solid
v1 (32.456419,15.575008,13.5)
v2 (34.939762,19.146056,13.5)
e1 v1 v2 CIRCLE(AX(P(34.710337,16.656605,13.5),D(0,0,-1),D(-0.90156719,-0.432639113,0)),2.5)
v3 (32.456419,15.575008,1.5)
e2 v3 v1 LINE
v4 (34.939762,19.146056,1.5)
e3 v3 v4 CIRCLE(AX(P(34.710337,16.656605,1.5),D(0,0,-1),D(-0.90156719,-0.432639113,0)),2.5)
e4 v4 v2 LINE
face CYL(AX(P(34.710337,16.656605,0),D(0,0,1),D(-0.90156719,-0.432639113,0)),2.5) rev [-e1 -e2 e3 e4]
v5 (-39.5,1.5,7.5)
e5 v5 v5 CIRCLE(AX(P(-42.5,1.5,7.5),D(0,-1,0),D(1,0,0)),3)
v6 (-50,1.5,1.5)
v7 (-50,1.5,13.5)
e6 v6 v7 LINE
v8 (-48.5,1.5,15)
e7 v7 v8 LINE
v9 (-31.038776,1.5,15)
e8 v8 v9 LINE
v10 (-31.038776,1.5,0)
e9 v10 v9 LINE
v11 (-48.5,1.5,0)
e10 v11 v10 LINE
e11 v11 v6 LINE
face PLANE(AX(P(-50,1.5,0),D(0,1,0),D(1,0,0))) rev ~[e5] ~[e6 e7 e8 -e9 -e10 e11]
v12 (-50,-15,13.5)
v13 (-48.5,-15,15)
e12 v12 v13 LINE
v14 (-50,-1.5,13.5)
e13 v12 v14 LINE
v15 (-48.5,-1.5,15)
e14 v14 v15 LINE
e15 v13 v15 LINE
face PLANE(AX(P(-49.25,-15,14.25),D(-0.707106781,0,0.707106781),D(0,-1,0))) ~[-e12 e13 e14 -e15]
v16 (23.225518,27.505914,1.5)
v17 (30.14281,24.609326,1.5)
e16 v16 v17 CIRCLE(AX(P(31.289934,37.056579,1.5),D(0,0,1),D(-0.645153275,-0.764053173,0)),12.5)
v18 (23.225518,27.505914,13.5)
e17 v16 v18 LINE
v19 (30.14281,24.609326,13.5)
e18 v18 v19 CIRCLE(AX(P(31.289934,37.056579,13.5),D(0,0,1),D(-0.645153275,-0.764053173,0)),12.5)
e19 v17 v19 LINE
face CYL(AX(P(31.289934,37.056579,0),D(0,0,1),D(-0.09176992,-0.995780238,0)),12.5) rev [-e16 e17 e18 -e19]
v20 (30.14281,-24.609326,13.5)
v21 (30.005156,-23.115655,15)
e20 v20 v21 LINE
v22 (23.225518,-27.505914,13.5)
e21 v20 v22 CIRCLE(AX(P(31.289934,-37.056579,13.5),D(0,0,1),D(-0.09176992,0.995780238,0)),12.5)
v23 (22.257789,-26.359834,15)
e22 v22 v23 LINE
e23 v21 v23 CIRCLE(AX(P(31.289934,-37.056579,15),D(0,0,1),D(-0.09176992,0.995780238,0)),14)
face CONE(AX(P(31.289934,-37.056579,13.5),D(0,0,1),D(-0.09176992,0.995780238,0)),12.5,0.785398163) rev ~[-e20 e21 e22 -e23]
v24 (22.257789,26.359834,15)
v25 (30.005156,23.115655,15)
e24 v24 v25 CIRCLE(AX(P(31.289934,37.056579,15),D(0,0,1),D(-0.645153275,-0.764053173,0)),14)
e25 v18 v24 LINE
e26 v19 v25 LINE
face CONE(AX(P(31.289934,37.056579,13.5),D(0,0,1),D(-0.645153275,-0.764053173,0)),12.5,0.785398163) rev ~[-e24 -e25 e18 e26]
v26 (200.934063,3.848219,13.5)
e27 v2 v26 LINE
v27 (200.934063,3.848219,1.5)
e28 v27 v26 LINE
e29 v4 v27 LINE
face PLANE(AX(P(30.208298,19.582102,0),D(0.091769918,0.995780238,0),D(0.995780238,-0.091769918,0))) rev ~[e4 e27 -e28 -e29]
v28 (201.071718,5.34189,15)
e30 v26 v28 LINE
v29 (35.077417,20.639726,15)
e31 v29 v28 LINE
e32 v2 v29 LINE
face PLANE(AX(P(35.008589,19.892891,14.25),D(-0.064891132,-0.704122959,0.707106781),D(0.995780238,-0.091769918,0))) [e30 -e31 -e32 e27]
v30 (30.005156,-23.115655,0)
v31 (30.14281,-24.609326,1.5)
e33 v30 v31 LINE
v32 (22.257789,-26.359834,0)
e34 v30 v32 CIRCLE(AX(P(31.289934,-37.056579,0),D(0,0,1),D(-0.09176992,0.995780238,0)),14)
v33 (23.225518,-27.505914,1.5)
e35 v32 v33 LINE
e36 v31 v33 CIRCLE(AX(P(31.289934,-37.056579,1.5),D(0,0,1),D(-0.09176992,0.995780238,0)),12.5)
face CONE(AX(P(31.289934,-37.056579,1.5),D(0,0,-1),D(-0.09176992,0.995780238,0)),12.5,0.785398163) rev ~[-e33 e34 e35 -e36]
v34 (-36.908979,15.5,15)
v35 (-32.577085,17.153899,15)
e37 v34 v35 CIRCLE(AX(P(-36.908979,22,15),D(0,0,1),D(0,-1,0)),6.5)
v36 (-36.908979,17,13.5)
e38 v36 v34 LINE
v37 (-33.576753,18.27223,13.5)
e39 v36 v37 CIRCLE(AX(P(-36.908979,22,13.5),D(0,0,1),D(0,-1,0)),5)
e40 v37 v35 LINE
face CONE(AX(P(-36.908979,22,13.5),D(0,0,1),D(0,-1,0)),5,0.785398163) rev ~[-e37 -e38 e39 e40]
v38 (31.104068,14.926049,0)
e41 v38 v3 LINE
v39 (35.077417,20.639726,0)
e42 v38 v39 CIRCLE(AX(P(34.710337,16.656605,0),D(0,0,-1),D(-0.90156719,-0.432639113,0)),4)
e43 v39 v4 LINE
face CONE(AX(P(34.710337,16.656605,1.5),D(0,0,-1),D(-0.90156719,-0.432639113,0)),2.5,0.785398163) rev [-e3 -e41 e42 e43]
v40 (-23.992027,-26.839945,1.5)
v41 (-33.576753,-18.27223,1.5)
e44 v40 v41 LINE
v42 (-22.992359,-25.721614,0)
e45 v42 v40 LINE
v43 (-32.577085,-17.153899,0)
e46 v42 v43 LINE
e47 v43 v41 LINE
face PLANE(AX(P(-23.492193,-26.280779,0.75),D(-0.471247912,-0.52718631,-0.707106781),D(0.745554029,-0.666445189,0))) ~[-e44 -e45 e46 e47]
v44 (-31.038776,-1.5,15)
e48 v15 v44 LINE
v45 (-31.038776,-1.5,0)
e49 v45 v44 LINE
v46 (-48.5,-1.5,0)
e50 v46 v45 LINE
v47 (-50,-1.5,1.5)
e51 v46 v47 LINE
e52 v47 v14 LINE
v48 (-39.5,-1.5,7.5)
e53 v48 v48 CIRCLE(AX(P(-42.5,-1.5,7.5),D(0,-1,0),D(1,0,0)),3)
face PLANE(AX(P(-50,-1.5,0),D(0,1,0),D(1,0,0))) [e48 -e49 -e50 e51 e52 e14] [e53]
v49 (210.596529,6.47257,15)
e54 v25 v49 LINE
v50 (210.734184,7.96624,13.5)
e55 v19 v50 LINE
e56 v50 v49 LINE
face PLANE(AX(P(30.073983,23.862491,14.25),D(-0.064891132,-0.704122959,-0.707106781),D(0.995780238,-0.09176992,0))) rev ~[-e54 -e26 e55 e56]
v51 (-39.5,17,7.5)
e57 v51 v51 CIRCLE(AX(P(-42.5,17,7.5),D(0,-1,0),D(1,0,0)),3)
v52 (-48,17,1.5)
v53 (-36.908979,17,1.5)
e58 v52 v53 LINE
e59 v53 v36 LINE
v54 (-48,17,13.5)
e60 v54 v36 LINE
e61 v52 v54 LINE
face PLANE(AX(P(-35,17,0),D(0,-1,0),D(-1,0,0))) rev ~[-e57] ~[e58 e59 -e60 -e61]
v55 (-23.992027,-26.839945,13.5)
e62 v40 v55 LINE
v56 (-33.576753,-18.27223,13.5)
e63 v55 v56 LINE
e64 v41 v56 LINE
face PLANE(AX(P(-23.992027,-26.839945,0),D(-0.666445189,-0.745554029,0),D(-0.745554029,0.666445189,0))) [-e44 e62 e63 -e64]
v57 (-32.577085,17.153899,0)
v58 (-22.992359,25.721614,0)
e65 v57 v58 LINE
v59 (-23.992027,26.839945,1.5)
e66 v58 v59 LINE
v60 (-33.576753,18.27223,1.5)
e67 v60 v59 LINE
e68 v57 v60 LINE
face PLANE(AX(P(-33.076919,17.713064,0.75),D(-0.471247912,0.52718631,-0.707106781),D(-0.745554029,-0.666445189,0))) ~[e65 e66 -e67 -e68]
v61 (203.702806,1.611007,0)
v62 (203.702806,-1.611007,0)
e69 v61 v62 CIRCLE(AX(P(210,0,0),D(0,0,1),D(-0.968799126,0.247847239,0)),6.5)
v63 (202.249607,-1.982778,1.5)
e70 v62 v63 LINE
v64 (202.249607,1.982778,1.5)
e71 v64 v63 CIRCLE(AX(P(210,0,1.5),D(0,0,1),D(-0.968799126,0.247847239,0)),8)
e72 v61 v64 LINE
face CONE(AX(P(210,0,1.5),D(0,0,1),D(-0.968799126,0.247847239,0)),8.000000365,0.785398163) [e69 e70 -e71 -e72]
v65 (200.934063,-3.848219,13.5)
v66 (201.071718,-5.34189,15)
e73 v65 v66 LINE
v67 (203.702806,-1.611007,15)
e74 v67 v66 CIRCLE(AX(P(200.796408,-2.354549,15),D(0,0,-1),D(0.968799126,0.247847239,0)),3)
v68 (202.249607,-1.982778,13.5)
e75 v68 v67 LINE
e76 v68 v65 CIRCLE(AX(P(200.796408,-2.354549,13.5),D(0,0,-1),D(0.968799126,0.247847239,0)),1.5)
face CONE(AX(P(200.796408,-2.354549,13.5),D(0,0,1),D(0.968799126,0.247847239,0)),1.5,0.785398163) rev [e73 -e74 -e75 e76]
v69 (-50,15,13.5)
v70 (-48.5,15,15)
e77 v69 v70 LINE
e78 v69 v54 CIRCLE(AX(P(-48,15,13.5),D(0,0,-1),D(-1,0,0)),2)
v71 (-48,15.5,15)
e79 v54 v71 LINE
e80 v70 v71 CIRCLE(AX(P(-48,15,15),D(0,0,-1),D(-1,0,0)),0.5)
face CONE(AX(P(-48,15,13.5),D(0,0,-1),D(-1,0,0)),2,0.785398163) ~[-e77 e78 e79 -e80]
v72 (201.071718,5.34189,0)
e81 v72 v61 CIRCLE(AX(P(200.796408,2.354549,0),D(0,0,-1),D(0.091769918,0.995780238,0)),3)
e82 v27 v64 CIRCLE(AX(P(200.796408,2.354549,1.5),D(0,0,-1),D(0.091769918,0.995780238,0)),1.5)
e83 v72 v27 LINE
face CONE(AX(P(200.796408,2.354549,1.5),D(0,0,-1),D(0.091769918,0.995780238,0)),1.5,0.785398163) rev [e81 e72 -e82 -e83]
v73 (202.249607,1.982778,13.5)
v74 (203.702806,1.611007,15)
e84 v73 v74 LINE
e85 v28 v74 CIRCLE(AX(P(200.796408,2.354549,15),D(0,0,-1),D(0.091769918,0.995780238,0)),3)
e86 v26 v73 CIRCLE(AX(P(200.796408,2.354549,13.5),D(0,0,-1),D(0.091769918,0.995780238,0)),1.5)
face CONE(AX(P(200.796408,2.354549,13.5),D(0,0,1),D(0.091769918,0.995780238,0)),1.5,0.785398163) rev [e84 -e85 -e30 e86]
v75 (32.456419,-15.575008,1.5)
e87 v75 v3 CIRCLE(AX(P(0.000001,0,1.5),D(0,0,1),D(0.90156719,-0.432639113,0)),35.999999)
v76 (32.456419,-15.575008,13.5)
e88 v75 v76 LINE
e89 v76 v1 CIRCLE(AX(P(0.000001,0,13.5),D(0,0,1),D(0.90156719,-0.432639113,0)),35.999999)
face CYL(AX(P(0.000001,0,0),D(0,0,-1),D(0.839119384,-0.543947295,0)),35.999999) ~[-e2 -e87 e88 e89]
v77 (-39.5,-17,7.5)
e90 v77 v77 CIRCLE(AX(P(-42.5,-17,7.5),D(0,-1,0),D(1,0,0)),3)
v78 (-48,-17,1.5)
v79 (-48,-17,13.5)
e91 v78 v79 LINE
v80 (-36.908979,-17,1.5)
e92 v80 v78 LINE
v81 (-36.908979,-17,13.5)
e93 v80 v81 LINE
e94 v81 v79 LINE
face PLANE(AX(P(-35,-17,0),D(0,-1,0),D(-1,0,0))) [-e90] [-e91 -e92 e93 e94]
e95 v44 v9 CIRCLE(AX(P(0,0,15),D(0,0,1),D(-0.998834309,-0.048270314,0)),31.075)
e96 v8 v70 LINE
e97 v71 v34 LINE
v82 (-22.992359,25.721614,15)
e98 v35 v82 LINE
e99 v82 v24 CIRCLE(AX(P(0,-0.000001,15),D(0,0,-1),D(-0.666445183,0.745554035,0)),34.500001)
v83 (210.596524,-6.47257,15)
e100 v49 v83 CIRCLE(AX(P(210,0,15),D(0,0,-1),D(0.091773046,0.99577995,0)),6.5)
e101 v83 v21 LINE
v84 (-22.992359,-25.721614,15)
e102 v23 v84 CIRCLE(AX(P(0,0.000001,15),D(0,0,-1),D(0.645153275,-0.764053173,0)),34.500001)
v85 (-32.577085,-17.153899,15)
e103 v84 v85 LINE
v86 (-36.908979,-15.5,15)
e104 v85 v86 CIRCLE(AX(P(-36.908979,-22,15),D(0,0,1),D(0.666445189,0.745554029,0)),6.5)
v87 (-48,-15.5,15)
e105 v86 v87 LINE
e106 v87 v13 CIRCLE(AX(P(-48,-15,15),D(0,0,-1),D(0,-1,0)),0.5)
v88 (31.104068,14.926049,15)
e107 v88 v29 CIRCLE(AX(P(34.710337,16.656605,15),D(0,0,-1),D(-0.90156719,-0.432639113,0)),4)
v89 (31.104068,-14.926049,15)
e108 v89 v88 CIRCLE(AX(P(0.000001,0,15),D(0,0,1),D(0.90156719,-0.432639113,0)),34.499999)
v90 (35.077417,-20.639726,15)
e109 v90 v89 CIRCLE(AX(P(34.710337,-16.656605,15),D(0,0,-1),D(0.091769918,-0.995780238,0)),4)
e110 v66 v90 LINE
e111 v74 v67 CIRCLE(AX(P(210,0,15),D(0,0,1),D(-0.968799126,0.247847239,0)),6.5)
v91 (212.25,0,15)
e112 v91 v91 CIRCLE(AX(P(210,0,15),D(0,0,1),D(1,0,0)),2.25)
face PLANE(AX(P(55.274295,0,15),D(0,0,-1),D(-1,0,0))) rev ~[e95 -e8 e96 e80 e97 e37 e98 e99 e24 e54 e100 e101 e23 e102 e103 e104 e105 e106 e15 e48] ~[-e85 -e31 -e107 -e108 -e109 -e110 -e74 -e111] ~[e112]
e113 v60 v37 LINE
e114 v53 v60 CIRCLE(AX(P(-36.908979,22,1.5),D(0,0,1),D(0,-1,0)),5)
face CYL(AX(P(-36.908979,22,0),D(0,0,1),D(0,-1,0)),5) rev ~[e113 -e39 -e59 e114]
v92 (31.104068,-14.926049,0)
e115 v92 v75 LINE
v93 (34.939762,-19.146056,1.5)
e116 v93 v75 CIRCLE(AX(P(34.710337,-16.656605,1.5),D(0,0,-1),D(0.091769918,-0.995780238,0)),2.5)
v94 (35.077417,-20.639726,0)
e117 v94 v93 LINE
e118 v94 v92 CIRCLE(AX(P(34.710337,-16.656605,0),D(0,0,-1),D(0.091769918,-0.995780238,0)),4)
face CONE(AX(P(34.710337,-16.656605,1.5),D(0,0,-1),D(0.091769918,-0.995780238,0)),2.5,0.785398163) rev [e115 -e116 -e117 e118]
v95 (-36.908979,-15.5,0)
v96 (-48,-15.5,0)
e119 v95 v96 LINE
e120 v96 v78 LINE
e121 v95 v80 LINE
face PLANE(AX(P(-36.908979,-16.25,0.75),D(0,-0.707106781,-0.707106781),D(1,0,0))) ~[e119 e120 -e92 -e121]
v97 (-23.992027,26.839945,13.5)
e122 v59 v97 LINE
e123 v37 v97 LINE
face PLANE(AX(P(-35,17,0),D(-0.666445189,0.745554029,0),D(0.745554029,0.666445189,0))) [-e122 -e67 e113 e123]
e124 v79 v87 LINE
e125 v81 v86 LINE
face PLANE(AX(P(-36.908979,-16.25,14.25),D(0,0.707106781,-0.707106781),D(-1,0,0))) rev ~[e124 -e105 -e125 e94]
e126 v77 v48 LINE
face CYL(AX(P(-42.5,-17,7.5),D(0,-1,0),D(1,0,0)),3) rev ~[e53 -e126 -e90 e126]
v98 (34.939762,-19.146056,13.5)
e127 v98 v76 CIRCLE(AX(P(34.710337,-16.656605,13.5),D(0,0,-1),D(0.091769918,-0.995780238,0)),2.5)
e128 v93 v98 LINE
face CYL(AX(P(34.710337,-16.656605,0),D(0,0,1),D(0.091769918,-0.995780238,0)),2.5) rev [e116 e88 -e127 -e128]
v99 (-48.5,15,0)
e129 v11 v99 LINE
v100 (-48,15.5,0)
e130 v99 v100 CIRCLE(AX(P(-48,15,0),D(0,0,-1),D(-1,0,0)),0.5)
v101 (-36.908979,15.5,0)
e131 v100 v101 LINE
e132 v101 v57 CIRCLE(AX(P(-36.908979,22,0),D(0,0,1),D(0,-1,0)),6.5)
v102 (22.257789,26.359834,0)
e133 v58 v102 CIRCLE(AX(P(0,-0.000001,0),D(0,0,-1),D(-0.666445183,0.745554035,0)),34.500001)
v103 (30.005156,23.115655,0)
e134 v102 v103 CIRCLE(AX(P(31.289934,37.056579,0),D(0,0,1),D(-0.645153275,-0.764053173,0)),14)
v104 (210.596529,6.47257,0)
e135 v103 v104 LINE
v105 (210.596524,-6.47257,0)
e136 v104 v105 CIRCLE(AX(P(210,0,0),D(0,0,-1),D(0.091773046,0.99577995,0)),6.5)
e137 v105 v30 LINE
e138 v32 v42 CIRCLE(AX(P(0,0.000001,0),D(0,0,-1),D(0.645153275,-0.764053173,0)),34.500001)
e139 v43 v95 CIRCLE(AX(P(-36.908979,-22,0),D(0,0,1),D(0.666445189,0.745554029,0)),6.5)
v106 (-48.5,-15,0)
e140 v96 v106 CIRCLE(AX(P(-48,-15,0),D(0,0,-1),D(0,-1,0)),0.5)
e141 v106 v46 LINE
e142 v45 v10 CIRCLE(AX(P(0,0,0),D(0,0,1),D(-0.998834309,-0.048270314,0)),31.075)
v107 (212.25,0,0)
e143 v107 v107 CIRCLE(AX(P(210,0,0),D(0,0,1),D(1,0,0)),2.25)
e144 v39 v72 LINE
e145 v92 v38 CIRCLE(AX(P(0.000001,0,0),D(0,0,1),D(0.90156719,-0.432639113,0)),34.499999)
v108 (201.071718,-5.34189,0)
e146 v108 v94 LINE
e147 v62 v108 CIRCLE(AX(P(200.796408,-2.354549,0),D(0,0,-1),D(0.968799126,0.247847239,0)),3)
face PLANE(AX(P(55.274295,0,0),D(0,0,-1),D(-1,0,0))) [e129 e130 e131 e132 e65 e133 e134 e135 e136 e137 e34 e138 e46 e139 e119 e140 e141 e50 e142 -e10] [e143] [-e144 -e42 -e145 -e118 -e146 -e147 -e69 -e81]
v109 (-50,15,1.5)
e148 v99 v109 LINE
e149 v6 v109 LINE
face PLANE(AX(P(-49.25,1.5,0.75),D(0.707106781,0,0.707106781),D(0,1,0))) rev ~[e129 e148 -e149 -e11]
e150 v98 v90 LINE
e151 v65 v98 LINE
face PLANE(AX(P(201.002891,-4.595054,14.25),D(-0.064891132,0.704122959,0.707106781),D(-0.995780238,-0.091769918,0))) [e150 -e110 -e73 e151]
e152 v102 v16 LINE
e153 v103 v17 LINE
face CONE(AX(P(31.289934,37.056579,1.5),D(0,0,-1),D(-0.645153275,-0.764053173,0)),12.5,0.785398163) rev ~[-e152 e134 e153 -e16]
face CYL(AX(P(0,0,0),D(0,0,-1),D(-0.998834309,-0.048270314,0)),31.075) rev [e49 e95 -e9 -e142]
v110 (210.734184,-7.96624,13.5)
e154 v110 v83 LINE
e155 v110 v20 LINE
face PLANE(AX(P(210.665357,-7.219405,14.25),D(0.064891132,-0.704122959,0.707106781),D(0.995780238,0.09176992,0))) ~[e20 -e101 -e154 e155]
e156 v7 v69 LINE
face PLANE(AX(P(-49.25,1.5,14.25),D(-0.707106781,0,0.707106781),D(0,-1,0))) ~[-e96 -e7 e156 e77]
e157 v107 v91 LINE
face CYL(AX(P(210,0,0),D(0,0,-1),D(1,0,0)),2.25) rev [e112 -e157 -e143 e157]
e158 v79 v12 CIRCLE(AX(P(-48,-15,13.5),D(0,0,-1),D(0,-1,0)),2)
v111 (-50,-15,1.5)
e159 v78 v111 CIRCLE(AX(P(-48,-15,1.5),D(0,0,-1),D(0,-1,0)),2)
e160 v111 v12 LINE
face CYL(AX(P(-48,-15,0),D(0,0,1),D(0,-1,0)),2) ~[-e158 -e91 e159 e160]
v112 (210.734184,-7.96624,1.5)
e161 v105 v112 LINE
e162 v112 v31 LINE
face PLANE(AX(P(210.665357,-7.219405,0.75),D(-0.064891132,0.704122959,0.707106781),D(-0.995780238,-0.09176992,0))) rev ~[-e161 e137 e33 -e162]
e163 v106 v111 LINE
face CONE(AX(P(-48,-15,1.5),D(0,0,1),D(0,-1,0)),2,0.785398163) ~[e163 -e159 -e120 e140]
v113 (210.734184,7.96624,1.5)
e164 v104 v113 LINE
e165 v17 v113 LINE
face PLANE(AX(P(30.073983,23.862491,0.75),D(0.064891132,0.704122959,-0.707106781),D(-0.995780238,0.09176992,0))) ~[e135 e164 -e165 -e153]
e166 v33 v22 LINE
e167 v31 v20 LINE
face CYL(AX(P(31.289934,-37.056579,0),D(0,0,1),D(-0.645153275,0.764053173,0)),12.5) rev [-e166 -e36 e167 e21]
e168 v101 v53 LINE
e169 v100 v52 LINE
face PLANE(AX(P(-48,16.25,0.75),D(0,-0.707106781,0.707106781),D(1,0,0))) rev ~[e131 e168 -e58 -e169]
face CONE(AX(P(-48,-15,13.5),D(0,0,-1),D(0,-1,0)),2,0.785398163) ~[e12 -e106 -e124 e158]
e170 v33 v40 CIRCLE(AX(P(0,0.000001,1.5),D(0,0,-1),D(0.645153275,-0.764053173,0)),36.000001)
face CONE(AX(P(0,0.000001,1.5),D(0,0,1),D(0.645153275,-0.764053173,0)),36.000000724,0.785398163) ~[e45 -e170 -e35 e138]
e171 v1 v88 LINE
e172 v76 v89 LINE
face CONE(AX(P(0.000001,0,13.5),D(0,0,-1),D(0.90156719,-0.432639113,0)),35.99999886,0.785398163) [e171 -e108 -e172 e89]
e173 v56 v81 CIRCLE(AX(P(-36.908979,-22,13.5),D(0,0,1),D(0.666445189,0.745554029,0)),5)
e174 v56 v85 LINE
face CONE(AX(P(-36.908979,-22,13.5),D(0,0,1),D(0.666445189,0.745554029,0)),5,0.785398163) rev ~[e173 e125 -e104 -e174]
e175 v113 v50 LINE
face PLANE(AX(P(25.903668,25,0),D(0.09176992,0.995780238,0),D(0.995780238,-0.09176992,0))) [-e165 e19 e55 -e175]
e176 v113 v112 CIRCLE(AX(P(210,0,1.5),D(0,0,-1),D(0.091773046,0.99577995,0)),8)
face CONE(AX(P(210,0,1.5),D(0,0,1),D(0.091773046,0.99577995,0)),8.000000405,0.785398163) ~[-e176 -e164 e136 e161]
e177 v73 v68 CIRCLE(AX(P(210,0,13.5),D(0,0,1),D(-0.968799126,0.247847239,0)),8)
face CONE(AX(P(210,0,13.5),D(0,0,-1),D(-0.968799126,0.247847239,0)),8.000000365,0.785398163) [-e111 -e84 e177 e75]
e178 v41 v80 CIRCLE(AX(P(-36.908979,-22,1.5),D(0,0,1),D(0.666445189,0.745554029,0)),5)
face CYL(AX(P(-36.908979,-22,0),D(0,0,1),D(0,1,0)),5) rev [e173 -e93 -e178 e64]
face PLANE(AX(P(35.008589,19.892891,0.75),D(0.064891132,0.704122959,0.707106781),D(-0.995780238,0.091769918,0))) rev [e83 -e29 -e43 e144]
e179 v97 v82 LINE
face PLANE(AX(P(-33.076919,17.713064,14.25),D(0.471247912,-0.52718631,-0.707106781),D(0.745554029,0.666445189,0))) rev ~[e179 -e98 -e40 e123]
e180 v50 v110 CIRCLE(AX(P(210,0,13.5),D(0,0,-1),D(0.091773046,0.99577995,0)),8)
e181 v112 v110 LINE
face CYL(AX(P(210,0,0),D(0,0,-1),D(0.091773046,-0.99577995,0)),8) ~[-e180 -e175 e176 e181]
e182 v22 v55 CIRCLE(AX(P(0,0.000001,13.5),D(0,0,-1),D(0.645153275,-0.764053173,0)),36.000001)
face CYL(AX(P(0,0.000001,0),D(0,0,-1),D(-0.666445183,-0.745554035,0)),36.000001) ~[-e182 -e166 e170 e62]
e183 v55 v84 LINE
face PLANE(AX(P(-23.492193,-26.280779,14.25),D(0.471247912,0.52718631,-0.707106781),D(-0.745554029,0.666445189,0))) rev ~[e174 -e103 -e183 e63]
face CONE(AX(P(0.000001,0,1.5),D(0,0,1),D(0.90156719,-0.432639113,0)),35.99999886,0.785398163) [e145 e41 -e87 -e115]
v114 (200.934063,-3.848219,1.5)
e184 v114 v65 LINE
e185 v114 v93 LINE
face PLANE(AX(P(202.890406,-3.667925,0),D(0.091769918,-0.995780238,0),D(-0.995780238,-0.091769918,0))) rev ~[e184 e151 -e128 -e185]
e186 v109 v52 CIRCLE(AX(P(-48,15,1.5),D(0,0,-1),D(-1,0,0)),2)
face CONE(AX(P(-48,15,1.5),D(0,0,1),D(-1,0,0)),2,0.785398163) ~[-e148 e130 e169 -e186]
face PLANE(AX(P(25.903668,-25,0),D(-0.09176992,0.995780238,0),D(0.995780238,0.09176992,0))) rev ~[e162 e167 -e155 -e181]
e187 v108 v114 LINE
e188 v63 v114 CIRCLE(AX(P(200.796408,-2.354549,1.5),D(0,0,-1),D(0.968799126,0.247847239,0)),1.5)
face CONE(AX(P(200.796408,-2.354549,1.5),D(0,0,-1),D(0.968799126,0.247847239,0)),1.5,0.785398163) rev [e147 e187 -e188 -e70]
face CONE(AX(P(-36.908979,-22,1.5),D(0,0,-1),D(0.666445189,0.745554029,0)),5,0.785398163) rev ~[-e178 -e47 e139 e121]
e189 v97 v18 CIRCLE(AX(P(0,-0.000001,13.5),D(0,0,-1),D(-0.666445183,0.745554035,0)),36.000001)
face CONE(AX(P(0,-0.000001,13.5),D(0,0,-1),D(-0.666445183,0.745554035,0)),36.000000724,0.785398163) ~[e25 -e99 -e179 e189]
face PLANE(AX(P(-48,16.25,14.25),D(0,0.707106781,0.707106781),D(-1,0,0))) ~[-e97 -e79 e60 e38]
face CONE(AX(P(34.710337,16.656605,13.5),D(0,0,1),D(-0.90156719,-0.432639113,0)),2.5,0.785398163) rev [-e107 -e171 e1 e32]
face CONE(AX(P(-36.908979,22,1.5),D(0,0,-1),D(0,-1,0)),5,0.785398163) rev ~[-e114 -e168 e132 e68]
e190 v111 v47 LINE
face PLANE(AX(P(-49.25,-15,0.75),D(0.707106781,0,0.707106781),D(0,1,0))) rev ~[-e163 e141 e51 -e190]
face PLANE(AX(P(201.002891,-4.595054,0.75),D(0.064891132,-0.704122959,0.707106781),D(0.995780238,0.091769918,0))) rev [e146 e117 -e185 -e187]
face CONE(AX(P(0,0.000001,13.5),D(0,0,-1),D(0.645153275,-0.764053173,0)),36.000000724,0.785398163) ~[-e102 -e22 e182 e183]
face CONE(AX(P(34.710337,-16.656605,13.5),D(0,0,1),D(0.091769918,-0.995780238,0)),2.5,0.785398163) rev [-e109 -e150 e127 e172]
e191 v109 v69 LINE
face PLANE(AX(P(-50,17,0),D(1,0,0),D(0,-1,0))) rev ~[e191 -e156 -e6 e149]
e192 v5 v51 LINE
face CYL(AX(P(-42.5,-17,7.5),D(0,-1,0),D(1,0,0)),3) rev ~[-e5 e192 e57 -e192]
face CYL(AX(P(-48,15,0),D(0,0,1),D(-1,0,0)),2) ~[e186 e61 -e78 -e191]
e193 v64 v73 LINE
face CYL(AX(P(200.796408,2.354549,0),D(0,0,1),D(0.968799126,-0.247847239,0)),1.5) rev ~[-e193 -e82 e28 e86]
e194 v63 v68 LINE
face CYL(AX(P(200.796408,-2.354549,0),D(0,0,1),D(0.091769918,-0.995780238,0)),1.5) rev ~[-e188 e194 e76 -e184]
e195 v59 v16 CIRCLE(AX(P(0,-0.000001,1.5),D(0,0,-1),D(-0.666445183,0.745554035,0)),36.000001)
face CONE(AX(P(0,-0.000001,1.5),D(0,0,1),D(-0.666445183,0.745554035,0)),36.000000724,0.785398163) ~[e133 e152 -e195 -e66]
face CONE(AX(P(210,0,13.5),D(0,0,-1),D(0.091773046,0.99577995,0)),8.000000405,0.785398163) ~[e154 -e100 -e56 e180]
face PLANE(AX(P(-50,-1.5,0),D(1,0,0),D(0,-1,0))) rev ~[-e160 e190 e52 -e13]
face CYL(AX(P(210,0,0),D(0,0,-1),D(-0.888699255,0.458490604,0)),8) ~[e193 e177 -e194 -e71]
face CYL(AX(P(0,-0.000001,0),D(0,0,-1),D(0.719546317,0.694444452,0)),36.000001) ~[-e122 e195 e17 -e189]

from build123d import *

# Parameters (mm, degrees)
SKETCH_R     = 2.25
PAD_DEPTH    = 15
SKETCH001_R  = 3
HOLE_DEPTH   = 53.001
FILLET_R     = 5
FILLET001_R  = 2
FILLET002_R  = 12.5
FILLET003_R  = 2.5
FILLET004_R  = 1.5
CHAMFER_SIZE = 1.5


with BuildPart() as part:
    # Sketch → Pad (new body)
    with BuildSketch(Plane.XY):
        with BuildLine():
            ThreePointArc((-31.038776, -1.5), (31.075, 0), (-31.038776, 1.5))
            Line((-50, 1.5), (-31.038776, 1.5))
            Line((-50, 17), (-50, 1.5))
            Line((-35, 17), (-50, 17))
            Line((-35, 17), (-23.992027, 26.839945))
            ThreePointArc((25.903668, 25), (1.326628, 35.975548), (-23.992027, 26.839945))
            Line((25.903668, 25), (210.734184, 7.96624))
            ThreePointArc((210.734184, -7.96624), (218, 0), (210.734184, 7.96624))
            Line((25.903668, -25), (210.734184, -7.96624))
            ThreePointArc((-23.992027, -26.839945), (1.326628, -35.975548), (25.903668, -25))
            Line((-23.992027, -26.839945), (-35, -17))
            Line((-35, -17), (-50, -17))
            Line((-50, -1.5), (-50, -17))
            Line((-50, -1.5), (-31.038776, -1.5))
        make_face()
        with Locations((210, 0)):
            Circle(SKETCH_R, mode=Mode.SUBTRACT)
        with BuildLine():
            ThreePointArc((202.890406, 3.667925), (202, 0), (202.890406, -3.667925))
            Line((202.890406, -3.667925), (30.208298, -19.582102))
            ThreePointArc((30.208298, -19.582102), (36, 0), (30.208298, 19.582102))
            Line((30.208298, 19.582102), (202.890406, 3.667925))
        make_face(mode=Mode.SUBTRACT)
    extrude(amount=PAD_DEPTH)

    # Sketch001 (on Face13 of Pad) → Hole (cut, through all)
    with BuildSketch(Plane.XZ.offset(17)):
        with Locations((-42.5, 7.5)):
            Circle(SKETCH001_R)
    extrude(amount=-HOLE_DEPTH, mode=Mode.SUBTRACT)

    # Fillet
    fillet_edges = [part.edges().sort_by_distance(p)[0] for p in [
        (-35, -17, 7.5),
        (-35, 17, 7.5),
    ]]
    fillet(fillet_edges, radius=FILLET_R)

    # Fillet001
    fillet001_edges = [part.edges().sort_by_distance(p)[0] for p in [
        (-50, 17, 7.5),
        (-50, -17, 7.5),
    ]]
    fillet(fillet001_edges, radius=FILLET001_R)

    # Fillet002
    fillet002_edges = [part.edges().sort_by_distance(p)[0] for p in [
        (25.903668, -25, 7.5),
        (25.903668, 25, 7.5),
    ]]
    fillet(fillet002_edges, radius=FILLET002_R)

    # Fillet003
    fillet003_edges = [part.edges().sort_by_distance(p)[0] for p in [
        (30.208298, -19.582102, 7.5),
        (30.208298, 19.582102, 7.5),
    ]]
    fillet(fillet003_edges, radius=FILLET003_R)

    # Fillet004
    fillet004_edges = [part.edges().sort_by_distance(p)[0] for p in [
        (202.890406, 3.667925, 7.5),
        (202.890406, -3.667925, 7.5),
    ]]
    fillet(fillet004_edges, radius=FILLET004_R)

    # Chamfer
    chamfer_edges = [part.edges().sort_by_distance(p)[0] for p in [
        (120.438497, 16.287783, 15),
        (120.438497, 16.287783, 0),
        (117.936912, 11.497137, 15),
        (117.936912, 11.497137, 0),
    ]]
    chamfer(chamfer_edges, length=CHAMFER_SIZE)


solid = part.part
